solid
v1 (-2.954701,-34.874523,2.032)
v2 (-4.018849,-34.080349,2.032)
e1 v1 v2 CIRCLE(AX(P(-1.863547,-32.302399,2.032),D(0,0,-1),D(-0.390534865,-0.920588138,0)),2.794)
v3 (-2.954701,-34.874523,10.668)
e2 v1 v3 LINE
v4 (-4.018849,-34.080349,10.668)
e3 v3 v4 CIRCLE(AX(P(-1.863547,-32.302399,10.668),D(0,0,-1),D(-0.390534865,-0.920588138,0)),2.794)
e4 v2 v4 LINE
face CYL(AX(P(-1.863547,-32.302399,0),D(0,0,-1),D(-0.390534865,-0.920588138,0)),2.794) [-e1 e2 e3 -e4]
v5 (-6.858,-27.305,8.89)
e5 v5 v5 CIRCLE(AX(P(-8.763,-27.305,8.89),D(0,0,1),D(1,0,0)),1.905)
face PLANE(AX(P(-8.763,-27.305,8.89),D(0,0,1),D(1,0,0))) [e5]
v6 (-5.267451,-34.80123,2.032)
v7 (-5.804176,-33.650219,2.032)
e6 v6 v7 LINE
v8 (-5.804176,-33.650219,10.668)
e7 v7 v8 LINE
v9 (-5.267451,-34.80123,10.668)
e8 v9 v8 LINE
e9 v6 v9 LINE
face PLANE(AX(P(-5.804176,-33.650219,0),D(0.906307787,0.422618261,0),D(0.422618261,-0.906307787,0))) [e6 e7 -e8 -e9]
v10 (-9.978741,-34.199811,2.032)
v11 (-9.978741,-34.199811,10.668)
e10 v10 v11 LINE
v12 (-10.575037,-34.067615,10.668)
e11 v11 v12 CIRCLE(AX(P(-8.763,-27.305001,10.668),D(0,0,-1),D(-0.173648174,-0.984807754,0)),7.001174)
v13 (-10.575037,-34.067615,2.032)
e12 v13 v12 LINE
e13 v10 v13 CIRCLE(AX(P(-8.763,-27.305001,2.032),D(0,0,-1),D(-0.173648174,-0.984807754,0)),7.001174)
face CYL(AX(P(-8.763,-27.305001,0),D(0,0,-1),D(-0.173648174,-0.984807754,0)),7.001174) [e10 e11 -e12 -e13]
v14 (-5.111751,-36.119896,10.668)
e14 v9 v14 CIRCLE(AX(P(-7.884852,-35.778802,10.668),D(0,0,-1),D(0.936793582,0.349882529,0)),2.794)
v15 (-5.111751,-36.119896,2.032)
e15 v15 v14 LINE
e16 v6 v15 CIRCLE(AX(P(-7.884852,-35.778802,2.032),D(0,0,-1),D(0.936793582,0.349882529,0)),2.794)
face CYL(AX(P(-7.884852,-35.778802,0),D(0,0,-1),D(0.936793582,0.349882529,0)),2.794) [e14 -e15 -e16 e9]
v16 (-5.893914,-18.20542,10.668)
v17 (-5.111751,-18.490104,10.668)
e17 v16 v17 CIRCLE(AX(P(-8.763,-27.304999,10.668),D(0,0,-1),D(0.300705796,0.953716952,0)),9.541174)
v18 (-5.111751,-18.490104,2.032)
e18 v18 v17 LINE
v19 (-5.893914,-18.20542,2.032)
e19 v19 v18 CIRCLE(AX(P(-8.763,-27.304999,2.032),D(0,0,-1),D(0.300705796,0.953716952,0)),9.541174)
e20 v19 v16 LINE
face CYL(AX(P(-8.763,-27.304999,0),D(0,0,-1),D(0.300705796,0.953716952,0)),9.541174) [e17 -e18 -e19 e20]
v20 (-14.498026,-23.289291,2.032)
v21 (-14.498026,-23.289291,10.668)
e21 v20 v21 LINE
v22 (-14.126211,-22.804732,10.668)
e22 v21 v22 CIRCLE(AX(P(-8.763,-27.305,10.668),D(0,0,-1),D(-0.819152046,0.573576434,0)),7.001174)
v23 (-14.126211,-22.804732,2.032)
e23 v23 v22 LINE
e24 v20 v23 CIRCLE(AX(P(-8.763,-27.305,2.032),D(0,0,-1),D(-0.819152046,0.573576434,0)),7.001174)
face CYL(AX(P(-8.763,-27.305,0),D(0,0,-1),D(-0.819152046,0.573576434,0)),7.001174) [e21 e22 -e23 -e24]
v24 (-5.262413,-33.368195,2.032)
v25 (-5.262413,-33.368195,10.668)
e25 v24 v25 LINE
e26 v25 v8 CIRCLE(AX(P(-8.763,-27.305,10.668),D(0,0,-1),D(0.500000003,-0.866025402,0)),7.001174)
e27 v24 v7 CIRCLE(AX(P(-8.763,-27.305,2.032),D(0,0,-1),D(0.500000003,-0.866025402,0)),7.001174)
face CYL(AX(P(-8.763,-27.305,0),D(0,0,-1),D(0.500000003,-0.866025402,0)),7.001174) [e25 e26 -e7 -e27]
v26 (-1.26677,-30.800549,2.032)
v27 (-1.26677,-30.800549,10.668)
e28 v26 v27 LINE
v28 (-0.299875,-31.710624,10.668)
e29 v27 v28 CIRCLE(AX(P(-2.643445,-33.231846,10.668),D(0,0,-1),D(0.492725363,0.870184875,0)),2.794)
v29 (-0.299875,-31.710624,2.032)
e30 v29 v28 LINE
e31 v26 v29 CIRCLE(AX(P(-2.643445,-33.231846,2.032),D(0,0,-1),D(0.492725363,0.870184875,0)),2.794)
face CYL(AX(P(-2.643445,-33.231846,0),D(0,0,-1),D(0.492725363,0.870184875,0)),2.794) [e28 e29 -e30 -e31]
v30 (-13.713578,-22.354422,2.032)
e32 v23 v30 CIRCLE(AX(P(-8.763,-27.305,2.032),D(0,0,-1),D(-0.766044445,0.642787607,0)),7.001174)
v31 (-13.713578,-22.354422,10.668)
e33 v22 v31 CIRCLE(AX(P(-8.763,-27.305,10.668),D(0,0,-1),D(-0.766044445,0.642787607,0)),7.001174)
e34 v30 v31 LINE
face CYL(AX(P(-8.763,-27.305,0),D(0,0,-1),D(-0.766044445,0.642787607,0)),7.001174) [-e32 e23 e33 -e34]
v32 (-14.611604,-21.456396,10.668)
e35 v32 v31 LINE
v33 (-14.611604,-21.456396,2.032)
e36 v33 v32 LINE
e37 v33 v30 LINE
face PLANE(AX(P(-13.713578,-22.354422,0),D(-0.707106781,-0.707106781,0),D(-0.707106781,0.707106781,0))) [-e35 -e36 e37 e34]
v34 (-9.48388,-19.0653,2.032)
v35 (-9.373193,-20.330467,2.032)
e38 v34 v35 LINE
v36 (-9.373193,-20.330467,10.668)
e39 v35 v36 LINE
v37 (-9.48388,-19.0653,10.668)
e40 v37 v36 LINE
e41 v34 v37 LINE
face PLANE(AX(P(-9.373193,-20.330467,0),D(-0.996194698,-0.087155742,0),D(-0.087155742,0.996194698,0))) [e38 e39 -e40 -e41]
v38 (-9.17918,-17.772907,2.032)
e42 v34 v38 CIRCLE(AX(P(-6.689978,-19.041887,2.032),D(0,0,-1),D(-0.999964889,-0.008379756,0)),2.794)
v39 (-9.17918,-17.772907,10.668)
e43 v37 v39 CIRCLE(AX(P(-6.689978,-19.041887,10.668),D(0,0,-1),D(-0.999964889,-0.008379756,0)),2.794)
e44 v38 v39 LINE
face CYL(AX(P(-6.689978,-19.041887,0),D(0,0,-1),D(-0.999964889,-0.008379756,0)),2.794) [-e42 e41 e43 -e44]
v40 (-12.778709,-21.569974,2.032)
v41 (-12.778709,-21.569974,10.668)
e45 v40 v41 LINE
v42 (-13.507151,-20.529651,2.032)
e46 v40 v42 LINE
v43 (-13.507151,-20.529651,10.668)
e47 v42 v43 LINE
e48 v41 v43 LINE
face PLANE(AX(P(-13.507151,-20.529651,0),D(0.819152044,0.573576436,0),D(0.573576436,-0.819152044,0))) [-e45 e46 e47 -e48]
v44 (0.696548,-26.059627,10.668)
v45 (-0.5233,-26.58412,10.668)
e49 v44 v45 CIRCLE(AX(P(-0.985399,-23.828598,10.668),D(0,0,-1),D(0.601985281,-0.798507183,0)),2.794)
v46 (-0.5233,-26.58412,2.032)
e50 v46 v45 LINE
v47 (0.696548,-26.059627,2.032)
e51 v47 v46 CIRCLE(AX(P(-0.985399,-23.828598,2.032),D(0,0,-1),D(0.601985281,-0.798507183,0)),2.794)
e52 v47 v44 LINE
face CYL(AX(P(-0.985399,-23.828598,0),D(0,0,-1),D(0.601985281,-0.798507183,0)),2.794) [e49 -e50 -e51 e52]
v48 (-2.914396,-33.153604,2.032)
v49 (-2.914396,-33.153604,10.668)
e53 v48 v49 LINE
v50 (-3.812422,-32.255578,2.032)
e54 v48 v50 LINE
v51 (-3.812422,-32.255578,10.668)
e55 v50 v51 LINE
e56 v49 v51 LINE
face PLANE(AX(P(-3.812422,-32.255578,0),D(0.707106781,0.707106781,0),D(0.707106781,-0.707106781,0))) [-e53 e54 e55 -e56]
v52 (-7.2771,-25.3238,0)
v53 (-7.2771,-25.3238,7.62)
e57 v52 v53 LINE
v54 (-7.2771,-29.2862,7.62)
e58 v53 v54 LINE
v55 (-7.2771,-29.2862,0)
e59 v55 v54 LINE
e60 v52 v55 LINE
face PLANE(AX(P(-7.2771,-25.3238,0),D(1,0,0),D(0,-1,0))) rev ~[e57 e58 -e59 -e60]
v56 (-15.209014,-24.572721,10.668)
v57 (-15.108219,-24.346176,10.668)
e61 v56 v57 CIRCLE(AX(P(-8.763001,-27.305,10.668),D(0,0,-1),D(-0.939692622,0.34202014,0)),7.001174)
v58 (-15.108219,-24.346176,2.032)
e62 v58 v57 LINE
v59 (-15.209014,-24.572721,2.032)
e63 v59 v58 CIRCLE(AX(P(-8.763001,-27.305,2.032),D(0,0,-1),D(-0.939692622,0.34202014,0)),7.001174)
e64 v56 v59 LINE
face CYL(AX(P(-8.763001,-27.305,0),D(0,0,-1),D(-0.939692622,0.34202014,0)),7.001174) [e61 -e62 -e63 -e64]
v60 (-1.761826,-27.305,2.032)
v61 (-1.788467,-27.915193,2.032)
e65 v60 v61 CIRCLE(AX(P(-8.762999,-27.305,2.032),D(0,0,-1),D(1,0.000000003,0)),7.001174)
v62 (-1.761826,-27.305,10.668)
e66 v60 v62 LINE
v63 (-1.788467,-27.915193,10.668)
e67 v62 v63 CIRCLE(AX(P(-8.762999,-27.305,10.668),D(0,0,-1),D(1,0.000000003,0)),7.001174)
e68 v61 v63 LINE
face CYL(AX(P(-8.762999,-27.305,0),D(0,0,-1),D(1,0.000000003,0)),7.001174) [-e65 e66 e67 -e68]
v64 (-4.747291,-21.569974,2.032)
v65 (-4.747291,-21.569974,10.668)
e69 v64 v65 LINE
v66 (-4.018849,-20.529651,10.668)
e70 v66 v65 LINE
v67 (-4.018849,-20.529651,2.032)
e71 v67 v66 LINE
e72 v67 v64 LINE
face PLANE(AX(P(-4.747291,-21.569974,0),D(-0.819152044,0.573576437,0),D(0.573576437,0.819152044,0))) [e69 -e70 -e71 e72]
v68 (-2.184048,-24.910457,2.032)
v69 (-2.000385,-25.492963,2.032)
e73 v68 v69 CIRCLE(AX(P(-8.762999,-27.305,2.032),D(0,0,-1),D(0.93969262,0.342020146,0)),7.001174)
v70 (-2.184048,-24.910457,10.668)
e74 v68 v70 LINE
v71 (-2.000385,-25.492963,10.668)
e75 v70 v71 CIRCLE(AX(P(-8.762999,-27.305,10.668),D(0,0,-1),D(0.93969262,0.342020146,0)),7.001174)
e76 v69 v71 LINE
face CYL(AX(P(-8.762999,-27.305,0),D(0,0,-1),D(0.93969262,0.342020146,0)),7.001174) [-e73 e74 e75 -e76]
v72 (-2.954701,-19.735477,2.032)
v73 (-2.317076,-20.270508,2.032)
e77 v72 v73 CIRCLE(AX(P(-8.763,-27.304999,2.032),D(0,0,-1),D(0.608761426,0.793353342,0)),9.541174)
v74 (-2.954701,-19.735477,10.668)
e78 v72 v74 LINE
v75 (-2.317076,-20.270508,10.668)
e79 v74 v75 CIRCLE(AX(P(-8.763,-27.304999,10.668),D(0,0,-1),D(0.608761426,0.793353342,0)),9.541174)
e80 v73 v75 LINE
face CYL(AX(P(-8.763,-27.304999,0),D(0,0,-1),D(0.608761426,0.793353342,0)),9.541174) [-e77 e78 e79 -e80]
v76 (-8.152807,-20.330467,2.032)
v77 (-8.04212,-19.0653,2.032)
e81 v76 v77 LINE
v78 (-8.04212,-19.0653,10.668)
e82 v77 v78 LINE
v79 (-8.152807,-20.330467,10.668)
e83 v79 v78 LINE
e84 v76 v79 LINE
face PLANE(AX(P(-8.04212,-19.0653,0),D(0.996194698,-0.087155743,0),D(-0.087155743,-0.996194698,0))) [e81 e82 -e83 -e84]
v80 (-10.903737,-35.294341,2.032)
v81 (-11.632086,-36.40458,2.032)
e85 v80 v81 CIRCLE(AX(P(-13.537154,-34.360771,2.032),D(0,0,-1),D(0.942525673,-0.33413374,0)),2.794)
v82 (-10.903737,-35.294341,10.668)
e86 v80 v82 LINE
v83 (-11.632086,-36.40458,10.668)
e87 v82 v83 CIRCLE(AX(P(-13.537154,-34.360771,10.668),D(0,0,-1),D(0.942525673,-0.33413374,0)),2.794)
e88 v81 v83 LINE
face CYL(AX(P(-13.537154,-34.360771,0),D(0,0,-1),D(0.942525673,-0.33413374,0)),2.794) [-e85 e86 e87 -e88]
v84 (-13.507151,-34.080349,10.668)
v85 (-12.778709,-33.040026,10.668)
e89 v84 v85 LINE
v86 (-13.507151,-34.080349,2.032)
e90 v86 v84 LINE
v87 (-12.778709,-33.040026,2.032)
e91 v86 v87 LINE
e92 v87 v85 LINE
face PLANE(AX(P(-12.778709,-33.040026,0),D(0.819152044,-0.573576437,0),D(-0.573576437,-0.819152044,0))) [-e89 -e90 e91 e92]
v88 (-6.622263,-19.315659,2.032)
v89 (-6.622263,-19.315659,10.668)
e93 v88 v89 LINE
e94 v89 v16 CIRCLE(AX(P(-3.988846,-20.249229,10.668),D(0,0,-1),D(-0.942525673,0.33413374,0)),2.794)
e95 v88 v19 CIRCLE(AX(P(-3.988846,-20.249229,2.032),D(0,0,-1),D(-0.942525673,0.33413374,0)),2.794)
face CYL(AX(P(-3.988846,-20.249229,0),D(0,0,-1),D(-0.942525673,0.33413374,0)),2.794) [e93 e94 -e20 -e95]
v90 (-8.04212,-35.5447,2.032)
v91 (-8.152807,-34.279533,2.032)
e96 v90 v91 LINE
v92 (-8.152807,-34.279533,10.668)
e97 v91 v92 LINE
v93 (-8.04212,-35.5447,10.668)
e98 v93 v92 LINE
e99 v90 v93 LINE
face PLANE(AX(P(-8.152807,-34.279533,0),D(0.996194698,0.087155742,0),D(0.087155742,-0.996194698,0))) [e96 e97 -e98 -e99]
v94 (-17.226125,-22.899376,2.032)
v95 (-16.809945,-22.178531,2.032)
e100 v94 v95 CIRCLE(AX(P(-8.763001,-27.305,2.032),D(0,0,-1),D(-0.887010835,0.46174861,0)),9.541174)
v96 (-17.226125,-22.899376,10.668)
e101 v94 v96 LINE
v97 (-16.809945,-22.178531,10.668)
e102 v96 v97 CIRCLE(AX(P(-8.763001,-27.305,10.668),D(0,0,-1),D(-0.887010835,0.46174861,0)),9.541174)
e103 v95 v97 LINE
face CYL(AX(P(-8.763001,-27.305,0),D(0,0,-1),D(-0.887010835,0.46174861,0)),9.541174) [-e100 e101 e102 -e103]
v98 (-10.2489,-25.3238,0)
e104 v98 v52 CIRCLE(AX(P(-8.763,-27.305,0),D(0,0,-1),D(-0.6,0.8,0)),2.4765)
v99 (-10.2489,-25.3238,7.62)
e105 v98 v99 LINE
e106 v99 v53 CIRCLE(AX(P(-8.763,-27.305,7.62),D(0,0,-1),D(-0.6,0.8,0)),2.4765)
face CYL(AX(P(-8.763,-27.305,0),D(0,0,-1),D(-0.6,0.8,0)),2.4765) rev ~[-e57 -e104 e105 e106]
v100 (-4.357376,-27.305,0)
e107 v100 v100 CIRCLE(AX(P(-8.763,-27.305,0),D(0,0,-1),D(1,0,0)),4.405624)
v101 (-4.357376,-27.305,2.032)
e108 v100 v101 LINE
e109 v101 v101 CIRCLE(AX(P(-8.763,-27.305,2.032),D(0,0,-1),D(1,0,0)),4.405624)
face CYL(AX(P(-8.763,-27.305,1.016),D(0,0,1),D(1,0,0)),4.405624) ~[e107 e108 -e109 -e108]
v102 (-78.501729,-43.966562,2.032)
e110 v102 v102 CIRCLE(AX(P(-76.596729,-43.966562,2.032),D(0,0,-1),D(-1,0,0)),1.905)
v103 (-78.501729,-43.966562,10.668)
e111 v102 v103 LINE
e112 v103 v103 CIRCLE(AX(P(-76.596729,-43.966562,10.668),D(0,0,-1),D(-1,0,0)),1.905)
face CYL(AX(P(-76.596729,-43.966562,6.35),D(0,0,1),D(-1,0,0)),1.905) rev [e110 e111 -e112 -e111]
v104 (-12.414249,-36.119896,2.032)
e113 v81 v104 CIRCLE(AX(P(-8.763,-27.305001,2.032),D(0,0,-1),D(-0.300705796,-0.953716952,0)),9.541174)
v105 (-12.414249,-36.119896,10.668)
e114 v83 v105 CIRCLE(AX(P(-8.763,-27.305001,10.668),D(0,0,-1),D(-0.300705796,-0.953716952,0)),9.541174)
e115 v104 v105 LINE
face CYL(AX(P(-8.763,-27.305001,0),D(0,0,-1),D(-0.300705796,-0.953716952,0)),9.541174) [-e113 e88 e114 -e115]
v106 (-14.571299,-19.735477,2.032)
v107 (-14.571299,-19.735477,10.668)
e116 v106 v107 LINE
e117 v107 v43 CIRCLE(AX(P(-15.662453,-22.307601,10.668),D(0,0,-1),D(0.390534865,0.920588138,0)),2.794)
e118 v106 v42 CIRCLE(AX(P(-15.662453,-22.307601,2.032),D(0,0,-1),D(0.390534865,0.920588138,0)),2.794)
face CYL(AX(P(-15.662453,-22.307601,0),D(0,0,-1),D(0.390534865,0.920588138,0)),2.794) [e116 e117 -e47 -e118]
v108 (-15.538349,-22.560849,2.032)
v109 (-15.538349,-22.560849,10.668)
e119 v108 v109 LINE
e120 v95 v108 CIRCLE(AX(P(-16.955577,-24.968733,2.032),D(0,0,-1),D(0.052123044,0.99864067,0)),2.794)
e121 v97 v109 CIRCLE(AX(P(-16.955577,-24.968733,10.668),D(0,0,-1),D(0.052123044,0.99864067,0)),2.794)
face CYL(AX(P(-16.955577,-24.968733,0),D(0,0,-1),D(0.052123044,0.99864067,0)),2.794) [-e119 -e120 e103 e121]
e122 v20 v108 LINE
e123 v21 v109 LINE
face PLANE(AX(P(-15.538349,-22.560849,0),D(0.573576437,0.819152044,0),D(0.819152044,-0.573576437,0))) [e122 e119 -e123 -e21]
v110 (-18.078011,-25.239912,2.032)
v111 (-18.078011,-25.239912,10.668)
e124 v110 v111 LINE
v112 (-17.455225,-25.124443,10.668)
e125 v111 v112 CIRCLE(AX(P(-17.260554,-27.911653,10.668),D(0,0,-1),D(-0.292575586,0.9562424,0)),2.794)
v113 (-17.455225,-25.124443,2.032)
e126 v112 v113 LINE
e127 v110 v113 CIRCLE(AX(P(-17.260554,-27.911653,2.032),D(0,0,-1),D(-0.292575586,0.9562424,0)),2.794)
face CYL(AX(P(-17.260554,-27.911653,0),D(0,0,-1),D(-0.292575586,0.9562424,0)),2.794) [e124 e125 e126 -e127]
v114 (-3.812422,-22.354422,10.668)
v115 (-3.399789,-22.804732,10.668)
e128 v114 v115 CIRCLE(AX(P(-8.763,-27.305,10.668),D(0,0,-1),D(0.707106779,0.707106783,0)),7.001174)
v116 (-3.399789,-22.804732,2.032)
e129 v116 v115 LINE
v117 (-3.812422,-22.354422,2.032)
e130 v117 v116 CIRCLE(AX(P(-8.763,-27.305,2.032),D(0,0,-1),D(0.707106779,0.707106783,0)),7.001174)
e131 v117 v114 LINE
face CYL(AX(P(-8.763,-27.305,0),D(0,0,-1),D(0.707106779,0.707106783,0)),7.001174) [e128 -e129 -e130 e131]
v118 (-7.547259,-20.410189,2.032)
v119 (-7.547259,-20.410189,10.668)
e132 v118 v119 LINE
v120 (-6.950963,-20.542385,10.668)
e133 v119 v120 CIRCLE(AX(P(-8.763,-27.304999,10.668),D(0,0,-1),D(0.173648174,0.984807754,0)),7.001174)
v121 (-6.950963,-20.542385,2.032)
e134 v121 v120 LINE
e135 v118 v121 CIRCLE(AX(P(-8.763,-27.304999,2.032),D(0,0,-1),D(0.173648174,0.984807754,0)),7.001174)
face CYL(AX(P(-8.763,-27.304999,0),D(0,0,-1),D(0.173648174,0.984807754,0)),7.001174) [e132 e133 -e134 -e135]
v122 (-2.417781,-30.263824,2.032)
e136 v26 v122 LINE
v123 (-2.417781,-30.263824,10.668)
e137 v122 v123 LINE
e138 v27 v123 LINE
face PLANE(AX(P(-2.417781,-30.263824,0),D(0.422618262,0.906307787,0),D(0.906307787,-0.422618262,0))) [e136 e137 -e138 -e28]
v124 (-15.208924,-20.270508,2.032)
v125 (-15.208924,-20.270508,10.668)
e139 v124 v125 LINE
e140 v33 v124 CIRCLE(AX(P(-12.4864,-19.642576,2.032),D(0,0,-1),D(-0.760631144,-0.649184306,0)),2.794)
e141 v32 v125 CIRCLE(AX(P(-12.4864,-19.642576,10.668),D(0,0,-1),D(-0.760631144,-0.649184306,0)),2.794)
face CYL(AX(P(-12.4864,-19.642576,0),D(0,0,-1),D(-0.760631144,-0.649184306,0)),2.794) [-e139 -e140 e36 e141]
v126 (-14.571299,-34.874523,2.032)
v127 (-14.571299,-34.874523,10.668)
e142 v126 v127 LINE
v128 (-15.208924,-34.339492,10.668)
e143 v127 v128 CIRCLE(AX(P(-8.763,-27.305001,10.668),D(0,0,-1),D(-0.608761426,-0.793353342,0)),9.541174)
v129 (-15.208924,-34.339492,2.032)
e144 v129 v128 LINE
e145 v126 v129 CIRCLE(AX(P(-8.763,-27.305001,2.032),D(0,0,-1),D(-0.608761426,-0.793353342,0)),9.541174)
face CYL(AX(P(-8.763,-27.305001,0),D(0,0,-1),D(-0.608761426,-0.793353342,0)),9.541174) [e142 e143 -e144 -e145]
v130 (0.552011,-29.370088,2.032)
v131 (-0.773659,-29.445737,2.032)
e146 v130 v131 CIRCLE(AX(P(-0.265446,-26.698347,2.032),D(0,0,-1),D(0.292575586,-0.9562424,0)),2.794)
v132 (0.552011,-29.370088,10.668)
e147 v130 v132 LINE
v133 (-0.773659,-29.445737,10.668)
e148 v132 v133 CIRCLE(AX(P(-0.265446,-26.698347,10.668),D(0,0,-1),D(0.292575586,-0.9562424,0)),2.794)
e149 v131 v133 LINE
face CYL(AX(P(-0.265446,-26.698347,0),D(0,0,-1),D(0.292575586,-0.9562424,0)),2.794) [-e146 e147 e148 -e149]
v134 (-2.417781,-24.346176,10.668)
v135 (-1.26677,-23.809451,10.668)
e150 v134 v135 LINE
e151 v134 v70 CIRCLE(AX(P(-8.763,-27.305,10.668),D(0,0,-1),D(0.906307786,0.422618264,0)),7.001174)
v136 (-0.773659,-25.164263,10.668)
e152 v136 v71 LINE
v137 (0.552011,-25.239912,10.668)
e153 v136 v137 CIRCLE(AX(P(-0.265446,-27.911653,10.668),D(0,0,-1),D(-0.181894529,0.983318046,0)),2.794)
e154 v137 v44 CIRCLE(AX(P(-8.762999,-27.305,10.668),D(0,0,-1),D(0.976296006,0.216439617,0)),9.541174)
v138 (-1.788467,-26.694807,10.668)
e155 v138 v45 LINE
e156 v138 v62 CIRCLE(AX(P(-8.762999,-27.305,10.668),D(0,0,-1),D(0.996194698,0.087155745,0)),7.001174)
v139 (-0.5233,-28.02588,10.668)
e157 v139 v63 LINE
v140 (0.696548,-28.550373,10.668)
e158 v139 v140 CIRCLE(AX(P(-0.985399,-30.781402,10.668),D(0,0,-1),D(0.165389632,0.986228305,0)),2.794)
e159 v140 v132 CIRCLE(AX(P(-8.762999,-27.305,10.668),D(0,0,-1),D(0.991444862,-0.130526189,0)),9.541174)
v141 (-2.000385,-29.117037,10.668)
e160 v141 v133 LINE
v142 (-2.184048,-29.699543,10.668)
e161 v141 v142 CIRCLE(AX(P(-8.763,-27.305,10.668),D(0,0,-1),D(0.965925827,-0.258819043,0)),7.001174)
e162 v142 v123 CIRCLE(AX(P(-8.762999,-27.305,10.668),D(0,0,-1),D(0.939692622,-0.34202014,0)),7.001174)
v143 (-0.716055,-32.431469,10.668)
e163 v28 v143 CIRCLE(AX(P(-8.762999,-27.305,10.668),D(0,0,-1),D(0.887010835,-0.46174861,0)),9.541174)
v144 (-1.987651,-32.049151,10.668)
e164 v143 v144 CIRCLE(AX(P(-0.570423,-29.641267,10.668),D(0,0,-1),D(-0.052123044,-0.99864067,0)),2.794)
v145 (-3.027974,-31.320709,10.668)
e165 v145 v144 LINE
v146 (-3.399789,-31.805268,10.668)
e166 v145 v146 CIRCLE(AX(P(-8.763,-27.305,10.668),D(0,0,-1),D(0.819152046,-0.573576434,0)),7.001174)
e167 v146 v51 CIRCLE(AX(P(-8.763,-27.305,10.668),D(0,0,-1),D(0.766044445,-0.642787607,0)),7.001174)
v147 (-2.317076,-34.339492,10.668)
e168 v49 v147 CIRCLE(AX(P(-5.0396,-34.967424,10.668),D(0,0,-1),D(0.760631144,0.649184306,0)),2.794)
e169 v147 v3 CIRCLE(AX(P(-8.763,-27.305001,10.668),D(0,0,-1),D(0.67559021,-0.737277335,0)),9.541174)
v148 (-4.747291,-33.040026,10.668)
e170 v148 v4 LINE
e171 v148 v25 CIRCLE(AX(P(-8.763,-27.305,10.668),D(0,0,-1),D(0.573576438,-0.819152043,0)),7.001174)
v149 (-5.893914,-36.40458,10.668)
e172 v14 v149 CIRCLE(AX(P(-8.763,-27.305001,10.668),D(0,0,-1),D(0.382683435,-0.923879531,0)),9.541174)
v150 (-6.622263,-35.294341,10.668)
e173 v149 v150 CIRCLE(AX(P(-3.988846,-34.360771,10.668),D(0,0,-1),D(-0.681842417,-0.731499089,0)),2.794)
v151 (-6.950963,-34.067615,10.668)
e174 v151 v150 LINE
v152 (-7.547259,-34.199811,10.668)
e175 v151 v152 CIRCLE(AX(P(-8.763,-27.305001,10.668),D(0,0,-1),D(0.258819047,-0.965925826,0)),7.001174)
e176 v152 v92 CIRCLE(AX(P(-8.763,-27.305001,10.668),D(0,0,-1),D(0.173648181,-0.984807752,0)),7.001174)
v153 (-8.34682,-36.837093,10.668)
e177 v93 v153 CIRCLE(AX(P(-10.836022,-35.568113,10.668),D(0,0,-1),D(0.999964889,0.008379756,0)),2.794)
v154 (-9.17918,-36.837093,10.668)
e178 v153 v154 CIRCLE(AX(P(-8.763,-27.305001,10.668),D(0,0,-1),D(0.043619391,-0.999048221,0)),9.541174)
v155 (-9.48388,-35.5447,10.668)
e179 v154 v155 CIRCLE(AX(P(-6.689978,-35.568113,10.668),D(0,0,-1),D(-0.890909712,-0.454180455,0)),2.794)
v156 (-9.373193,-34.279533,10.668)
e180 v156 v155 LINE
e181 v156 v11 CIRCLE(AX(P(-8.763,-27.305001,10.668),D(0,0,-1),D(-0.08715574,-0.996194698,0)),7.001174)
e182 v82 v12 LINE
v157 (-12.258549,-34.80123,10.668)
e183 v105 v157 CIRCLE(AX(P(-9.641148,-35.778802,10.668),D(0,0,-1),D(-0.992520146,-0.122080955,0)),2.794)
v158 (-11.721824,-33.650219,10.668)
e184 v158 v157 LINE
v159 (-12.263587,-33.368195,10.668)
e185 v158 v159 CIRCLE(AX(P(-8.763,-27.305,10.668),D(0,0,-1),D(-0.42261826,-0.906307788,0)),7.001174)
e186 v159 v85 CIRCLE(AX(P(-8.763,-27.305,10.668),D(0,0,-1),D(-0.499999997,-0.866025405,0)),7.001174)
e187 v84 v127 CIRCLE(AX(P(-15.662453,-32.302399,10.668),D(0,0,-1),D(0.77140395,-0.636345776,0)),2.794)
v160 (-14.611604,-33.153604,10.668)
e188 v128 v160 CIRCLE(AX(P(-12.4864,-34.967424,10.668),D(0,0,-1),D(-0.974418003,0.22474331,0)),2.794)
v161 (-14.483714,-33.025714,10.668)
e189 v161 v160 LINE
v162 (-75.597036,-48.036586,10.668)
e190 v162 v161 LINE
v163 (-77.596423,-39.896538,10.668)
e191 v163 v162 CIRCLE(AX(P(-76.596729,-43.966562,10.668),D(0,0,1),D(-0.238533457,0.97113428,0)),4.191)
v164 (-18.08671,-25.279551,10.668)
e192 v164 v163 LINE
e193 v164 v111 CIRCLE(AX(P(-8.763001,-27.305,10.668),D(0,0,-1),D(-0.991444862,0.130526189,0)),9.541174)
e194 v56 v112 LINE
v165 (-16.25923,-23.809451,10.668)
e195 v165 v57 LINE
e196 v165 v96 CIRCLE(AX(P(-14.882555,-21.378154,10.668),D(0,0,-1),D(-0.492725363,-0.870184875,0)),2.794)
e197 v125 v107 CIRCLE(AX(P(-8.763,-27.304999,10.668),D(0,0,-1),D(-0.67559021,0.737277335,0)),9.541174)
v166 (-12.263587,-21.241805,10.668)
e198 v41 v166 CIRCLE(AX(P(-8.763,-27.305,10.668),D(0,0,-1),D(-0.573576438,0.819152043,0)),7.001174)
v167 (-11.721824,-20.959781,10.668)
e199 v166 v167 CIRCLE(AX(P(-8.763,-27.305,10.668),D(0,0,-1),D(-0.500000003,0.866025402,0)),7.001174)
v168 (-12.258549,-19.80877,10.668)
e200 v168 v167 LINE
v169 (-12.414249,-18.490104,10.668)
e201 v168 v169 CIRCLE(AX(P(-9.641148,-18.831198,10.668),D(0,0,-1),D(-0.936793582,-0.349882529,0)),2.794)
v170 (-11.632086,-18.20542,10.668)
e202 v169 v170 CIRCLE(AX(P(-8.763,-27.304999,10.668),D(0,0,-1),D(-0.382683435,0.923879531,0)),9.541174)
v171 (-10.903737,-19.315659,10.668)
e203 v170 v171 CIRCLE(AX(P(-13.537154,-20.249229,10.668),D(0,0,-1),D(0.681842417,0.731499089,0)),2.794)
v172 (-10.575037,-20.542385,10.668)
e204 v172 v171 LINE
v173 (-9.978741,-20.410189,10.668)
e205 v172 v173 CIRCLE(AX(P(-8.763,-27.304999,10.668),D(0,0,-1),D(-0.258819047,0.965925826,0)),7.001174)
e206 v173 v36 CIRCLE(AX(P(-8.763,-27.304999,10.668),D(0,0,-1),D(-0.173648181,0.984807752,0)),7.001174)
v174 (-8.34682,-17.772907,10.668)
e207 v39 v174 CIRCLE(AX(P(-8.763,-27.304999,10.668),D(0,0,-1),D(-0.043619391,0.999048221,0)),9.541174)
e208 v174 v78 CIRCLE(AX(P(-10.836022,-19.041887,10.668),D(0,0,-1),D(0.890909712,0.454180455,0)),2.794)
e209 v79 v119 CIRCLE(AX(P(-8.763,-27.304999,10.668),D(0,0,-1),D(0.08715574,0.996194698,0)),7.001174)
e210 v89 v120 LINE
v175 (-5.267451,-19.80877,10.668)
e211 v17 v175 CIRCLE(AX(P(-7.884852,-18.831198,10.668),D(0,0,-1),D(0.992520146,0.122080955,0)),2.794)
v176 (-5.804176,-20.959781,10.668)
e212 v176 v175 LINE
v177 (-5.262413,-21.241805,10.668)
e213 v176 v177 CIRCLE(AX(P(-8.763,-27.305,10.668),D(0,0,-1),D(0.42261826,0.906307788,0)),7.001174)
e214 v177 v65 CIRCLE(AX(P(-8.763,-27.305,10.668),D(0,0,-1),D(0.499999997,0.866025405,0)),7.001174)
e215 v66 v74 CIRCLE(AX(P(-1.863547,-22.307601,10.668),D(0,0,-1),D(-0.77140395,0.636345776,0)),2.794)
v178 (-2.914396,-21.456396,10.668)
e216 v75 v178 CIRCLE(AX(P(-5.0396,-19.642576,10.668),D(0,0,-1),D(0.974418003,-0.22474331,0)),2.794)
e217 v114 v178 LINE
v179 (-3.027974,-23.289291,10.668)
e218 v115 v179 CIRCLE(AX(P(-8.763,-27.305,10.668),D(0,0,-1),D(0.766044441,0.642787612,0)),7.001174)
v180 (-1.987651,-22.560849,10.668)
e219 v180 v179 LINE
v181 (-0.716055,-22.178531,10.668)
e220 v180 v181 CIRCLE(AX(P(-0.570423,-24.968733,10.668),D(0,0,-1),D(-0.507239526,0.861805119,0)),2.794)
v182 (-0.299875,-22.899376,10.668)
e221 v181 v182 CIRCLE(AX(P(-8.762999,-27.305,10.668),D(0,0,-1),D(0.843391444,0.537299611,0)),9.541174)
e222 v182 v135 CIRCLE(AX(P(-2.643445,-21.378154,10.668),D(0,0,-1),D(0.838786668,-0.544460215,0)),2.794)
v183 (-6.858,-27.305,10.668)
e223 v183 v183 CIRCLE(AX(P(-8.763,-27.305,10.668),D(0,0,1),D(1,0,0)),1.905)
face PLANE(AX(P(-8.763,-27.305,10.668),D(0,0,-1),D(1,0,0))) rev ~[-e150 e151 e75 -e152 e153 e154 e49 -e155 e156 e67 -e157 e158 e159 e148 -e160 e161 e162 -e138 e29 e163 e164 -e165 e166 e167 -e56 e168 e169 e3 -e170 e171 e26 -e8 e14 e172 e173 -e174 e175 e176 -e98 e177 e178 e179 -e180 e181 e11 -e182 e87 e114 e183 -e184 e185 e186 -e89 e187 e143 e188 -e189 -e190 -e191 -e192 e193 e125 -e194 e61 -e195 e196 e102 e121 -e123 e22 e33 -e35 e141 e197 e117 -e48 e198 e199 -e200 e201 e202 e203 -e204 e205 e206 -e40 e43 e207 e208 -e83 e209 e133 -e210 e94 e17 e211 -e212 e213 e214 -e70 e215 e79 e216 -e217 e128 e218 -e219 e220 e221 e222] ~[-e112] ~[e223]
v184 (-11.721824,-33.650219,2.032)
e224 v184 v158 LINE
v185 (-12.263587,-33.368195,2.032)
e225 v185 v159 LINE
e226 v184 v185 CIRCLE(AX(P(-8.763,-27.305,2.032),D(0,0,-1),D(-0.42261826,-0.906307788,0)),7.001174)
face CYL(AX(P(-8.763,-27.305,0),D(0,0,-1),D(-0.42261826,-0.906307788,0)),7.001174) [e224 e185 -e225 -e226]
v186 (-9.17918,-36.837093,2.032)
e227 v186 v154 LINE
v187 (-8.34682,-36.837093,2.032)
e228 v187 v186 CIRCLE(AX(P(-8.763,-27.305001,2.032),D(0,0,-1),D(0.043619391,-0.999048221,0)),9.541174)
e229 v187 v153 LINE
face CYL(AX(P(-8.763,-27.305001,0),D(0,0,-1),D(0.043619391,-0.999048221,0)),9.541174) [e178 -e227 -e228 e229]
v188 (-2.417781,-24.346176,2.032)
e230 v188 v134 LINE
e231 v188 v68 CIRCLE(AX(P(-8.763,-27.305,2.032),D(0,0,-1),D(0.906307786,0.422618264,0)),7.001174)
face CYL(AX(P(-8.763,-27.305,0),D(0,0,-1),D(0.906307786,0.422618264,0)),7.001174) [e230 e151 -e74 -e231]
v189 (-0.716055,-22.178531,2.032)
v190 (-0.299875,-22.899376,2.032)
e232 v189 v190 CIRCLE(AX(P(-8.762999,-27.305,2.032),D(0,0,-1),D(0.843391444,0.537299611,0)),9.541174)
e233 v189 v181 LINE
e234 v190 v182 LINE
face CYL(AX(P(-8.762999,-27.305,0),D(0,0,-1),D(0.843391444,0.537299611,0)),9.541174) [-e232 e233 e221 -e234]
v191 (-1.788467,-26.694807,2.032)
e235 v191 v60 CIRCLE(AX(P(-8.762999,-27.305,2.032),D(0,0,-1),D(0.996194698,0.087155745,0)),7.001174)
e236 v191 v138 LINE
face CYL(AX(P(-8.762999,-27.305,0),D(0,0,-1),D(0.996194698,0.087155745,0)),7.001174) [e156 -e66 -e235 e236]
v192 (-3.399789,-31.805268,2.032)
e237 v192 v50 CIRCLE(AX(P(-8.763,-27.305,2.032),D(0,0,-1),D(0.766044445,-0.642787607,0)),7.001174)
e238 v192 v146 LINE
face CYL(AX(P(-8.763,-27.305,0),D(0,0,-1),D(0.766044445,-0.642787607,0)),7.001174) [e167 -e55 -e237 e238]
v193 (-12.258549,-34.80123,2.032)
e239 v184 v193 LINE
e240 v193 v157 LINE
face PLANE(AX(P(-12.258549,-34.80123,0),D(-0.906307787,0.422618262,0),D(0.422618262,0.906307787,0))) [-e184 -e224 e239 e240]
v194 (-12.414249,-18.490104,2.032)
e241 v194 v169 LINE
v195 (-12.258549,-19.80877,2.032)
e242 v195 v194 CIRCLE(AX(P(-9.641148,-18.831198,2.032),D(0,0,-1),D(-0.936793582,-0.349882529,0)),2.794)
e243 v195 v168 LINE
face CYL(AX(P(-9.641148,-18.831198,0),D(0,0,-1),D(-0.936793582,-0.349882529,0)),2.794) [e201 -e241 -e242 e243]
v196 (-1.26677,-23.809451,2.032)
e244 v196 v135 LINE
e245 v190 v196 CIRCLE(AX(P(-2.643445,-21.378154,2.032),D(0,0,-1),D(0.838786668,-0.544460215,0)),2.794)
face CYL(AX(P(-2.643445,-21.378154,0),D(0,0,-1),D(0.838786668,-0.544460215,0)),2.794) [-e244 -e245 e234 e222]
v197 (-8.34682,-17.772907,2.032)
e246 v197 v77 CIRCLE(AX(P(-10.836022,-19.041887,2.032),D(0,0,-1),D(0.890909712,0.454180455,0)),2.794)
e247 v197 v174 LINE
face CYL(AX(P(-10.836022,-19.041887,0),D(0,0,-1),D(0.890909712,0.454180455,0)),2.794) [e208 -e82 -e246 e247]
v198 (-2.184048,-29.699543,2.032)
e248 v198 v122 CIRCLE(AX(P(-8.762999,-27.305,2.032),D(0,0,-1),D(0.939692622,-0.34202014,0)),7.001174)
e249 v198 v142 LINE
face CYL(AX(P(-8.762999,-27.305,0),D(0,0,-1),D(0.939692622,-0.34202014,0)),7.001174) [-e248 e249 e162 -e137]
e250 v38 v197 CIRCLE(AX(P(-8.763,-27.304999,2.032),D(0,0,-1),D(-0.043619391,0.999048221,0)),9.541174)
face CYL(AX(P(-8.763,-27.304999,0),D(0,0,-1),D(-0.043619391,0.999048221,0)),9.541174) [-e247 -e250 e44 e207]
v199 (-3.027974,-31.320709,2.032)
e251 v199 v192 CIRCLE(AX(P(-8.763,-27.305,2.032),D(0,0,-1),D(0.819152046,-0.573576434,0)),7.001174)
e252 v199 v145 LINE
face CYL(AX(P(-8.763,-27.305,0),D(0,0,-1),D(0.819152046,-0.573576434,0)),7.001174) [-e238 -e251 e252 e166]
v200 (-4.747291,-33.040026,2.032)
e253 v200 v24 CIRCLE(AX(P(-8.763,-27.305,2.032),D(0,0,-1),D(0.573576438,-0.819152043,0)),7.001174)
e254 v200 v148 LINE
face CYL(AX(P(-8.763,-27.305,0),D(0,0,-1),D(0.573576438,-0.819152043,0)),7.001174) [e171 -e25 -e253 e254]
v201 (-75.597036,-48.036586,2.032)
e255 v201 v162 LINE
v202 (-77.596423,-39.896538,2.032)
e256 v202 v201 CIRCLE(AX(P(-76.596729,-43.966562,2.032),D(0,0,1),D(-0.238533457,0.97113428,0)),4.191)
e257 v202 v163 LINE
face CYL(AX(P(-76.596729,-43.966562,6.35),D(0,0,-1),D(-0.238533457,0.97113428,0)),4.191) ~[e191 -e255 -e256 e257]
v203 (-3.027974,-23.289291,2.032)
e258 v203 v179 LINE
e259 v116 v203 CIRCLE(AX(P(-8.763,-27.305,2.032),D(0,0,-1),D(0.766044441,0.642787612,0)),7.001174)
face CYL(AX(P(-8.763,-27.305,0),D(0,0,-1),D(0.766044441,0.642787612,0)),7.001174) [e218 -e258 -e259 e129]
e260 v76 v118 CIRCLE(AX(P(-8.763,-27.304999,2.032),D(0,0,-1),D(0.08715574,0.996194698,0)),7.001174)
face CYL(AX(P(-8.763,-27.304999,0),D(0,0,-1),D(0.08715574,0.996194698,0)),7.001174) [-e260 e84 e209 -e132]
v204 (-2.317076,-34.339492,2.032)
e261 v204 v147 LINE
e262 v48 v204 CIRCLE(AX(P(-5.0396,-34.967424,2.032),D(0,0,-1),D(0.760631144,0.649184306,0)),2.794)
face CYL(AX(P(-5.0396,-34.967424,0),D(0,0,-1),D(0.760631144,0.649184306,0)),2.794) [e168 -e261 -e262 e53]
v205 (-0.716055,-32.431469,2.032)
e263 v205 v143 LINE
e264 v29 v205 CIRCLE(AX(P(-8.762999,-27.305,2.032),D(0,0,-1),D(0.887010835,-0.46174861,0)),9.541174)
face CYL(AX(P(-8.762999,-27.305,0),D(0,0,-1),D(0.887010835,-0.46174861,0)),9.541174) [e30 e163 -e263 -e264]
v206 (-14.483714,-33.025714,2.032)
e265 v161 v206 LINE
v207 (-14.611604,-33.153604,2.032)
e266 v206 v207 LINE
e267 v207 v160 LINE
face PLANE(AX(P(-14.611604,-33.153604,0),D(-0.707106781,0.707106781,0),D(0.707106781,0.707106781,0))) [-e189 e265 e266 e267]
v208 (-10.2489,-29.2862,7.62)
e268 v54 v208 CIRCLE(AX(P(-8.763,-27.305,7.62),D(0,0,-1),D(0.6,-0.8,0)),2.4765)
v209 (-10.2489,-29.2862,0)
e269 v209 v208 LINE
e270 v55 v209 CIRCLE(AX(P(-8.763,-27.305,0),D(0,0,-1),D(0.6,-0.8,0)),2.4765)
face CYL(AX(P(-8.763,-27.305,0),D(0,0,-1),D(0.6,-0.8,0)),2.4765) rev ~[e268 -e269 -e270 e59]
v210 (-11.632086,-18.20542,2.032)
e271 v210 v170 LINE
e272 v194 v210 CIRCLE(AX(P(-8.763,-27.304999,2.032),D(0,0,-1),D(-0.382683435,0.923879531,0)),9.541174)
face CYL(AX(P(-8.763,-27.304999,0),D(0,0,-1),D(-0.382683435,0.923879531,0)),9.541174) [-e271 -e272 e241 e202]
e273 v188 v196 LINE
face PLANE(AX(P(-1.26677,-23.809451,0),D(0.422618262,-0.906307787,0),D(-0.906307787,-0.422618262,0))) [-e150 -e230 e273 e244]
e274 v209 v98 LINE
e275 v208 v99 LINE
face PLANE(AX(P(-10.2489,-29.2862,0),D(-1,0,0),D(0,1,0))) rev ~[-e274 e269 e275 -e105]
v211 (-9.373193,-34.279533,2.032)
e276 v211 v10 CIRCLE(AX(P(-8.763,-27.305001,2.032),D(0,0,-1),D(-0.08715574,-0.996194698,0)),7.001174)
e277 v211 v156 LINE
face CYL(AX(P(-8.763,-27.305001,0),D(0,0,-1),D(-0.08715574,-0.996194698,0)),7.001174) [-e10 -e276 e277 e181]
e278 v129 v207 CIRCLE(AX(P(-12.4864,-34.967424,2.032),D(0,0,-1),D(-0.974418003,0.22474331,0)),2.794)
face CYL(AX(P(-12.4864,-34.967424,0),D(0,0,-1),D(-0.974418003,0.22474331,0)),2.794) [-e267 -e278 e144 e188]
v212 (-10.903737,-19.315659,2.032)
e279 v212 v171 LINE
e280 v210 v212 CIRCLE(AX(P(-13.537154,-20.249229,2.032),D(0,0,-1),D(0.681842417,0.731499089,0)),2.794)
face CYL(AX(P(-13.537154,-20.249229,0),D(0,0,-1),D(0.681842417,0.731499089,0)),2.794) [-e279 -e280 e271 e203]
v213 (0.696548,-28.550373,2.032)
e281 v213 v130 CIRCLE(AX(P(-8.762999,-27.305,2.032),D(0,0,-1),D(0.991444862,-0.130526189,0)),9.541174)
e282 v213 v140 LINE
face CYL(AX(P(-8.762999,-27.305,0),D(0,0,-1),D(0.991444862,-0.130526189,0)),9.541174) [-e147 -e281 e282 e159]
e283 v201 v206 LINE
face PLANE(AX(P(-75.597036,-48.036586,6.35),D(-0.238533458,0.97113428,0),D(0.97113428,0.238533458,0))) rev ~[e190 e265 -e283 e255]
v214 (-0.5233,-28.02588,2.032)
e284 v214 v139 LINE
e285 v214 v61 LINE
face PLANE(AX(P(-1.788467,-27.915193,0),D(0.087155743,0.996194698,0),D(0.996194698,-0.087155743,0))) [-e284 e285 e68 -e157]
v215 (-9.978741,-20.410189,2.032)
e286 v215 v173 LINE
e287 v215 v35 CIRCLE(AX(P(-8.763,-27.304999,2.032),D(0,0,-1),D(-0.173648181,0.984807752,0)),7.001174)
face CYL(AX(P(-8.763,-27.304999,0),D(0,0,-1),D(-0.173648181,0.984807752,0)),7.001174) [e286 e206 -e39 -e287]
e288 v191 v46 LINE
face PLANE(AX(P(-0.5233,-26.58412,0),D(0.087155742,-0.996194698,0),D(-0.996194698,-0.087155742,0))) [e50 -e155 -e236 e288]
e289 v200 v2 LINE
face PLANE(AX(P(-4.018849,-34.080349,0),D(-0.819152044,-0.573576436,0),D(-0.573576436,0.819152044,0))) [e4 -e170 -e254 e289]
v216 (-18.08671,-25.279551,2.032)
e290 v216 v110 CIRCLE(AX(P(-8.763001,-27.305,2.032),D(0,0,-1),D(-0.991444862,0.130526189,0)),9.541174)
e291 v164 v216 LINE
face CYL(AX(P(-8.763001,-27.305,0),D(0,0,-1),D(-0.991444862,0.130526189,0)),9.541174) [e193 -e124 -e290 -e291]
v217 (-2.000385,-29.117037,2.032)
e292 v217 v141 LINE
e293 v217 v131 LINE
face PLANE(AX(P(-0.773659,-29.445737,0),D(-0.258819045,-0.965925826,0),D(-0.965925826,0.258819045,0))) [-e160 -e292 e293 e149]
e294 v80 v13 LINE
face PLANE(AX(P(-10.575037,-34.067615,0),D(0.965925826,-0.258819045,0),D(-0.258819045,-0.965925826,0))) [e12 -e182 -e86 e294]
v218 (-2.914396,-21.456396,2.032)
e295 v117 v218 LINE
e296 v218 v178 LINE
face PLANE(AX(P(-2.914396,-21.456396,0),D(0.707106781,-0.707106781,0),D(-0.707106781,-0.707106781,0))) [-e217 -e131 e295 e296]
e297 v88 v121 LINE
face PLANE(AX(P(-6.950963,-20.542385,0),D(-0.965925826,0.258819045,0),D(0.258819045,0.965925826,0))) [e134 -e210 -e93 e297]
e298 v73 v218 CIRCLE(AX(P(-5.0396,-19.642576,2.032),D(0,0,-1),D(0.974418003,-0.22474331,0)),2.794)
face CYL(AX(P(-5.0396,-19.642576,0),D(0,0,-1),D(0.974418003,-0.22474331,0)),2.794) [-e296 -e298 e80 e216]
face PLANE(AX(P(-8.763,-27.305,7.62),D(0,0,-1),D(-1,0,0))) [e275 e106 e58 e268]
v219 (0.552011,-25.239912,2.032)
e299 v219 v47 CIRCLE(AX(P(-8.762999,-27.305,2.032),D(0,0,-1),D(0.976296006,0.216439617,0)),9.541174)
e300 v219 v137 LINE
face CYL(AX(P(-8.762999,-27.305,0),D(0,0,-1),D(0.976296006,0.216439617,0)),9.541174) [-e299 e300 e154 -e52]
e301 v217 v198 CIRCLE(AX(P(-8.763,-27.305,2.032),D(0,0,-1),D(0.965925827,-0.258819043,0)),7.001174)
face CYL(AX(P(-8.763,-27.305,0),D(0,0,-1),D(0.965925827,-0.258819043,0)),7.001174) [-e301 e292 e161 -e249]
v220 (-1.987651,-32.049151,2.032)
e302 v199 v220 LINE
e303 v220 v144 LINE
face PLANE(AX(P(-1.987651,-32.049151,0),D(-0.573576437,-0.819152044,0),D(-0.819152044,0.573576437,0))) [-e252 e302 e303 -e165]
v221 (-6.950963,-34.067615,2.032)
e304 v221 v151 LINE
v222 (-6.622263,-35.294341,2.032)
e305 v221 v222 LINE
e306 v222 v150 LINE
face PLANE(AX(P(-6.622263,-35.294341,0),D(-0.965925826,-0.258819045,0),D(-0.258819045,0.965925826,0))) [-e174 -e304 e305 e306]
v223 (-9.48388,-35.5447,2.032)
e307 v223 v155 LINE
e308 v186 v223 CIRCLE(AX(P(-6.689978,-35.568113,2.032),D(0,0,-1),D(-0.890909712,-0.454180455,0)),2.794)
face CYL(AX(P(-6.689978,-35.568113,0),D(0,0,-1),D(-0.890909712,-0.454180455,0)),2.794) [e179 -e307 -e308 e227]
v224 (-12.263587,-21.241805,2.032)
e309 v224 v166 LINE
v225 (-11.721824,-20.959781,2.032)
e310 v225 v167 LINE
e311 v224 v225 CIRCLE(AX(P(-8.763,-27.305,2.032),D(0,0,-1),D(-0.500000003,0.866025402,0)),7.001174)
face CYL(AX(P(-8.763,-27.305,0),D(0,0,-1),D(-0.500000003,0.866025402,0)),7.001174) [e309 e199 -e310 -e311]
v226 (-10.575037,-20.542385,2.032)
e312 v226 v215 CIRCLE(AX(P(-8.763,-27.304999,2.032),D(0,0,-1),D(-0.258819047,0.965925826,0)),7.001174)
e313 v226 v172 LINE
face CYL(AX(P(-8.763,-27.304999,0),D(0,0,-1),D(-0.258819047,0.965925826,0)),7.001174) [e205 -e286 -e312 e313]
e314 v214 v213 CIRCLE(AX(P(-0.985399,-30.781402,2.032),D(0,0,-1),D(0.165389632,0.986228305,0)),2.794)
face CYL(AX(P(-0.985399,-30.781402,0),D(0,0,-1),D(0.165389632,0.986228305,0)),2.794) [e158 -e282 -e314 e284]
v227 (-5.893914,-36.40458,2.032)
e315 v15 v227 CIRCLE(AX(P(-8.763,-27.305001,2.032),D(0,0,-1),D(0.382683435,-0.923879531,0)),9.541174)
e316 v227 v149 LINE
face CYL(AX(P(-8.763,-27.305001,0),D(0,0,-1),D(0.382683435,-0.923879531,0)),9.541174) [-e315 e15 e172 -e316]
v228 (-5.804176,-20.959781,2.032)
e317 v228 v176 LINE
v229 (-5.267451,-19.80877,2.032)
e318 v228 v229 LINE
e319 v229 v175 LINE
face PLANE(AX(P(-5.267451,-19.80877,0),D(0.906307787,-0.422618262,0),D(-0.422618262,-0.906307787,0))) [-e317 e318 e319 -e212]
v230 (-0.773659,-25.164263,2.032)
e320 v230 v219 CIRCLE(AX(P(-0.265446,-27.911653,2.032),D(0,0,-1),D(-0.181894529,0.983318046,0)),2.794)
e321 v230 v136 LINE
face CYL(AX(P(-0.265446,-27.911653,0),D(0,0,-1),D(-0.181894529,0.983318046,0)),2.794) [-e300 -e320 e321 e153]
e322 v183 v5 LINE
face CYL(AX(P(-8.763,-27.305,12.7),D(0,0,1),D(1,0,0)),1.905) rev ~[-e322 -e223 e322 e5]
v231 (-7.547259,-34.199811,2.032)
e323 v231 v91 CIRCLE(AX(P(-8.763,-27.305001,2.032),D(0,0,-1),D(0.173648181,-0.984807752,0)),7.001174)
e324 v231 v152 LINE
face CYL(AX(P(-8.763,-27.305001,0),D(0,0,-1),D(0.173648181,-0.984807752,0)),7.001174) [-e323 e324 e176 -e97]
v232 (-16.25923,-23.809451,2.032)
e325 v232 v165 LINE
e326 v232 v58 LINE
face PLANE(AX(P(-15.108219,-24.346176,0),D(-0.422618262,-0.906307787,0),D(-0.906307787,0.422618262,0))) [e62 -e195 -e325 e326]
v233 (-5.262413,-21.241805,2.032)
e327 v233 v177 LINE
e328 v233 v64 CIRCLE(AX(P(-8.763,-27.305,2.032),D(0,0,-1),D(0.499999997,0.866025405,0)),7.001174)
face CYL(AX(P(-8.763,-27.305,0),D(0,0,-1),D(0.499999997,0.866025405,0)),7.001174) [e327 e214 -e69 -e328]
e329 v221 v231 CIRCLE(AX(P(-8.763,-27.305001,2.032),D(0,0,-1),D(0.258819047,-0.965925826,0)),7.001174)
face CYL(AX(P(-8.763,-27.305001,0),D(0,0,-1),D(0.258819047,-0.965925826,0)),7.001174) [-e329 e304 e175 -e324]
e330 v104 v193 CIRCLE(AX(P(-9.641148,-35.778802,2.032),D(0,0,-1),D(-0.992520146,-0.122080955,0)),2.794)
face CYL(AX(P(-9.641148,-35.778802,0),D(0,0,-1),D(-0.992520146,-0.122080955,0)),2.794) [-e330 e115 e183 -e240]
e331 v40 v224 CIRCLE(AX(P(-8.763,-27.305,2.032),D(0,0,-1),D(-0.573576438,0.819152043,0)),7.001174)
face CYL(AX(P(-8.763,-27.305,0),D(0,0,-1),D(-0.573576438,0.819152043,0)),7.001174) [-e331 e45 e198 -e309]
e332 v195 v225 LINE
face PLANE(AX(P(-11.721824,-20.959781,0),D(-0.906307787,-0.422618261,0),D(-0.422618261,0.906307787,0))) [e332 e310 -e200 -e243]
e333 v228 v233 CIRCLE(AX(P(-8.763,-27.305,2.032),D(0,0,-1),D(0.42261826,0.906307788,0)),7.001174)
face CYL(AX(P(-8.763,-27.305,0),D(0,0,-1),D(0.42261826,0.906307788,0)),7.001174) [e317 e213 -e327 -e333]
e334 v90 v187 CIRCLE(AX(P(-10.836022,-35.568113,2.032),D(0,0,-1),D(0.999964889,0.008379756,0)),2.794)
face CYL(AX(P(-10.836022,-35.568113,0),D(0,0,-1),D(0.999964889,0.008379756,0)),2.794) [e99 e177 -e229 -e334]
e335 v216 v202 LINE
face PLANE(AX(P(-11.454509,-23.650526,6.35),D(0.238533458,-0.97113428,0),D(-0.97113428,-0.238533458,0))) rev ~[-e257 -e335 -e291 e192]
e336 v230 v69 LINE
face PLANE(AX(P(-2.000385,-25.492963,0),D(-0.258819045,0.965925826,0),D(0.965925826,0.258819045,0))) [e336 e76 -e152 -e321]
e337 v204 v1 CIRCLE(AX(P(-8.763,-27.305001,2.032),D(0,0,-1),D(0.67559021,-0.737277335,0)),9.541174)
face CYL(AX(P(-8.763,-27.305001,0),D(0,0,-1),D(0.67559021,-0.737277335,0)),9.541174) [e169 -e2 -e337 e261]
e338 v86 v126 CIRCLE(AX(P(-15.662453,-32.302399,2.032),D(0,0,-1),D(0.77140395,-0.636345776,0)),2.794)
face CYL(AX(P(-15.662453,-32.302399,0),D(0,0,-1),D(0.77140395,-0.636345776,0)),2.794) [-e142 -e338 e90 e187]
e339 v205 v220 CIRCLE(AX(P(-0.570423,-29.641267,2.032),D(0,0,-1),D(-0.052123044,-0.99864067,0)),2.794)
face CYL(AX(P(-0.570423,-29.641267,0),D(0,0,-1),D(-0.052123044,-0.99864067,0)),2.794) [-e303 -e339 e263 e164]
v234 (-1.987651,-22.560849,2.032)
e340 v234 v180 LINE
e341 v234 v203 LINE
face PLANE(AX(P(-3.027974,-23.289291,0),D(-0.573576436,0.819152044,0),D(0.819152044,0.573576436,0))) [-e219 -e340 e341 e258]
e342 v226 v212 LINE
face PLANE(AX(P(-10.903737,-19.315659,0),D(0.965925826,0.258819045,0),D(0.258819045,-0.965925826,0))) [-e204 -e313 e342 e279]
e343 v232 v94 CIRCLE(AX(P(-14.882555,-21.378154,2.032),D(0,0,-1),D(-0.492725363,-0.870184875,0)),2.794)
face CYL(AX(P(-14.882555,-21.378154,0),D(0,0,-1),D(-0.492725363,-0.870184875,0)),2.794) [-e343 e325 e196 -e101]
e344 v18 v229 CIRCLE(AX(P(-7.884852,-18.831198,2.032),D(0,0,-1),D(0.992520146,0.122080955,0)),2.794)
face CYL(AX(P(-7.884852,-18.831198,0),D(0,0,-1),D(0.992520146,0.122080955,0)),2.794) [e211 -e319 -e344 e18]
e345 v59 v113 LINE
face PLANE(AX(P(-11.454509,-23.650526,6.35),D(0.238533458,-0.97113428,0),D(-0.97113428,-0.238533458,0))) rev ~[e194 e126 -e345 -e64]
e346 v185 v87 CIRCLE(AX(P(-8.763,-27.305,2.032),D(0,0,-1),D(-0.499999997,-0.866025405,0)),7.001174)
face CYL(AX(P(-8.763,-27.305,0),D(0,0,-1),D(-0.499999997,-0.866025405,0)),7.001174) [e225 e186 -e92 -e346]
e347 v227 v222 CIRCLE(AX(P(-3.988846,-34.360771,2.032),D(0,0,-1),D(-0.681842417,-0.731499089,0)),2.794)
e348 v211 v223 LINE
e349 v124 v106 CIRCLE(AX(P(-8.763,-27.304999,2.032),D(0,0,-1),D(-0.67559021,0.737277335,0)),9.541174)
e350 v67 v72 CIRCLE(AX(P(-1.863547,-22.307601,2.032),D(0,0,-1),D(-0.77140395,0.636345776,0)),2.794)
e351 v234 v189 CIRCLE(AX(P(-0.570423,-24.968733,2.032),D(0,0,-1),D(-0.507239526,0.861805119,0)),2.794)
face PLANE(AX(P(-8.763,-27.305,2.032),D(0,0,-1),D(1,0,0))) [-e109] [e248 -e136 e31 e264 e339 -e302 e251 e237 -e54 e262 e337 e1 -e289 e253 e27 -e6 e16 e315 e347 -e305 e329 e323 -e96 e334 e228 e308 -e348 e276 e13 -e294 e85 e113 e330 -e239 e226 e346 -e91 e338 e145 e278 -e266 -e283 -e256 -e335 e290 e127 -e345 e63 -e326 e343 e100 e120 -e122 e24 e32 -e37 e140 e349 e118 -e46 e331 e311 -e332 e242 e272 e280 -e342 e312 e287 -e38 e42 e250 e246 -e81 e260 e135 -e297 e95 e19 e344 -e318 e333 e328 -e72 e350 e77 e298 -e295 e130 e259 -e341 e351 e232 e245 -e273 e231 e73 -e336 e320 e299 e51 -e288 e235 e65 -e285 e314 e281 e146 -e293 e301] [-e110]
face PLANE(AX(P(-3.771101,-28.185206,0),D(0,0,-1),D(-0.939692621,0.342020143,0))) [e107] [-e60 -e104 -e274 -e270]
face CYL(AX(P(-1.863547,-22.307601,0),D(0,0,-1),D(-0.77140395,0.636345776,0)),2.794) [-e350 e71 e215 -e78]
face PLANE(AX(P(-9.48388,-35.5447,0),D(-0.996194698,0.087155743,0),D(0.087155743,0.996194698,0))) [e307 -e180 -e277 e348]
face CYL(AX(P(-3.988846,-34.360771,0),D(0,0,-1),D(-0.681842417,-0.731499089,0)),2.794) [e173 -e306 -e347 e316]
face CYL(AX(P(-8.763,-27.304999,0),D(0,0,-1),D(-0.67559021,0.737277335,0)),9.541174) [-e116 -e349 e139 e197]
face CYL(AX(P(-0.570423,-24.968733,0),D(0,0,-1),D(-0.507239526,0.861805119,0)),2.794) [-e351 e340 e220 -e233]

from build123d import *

# Parameters (mm, degrees)
BOSS_EXTRUDE2_DEPTH = 12.7
CIRPATTERN1_COUNT   = 18
CUT_EXTRUDE1_DEPTH  = 7.62
SKETCH5_W           = 2.032
SKETCH5_H           = 5.817262372
SKETCH6_R           = 1.905
CUT_EXTRUDE2_DEPTH  = 3.81
SKETCH7_R           = 1.905
BOSS_EXTRUDE3_DEPTH = 4.318
SKETCH8_R           = 4.40562407
CUT_EXTRUDE3_DEPTH  = 2.032


with BuildPart() as part:
    # Sketch2 → Boss-Extrude2 (new body)
    with BuildSketch(Plane.XY):
        with BuildLine():
            Line((-8.763, -27.305), (-2.184048035, -24.910457312))
            ThreePointArc((-2.184048035, -24.910457312), (-2.085861254, -25.19970624), (-2.000384787, -25.492962715))
            Line((-2.000384787, -25.492962715), (-0.773658987, -25.164262528))
            ThreePointArc((-0.773658987, -25.164262528), (-0.106264973, -25.122191283), (0.552010516, -25.239911886))
            ThreePointArc((0.552010516, -25.239911886), (0.633222569, -25.648192444), (0.696548377, -26.05962683))
            ThreePointArc((0.696548377, -26.05962683), (0.118234575, -26.395391489), (-0.523299868, -26.584119648))
            Line((-0.523299868, -26.584119648), (-1.788467135, -26.694807441))
            ThreePointArc((-1.788467135, -26.694807441), (-1.768489119, -26.99961306), (-1.761825553, -27.305))
            Line((-1.761825553, -27.305), (-8.763, -27.305))
        make_face()
    boss_extrude2 = extrude(amount=BOSS_EXTRUDE2_DEPTH)

    # CirPattern1: Boss-Extrude2 ×18 about axis
    cirpattern1_axis = Axis((-8.763, -27.305, 0), (0, 0, 1))
    for i in range(1, CIRPATTERN1_COUNT):
        add(boss_extrude2.rotate(cirpattern1_axis, i * 360 / CIRPATTERN1_COUNT))

    # Sketch4 → Cut-Extrude1 (cut)
    with BuildSketch(Plane(origin=(0, 0, 0), x_dir=(-1, 0, 0), z_dir=(0, 0, -1))):
        with BuildLine():
            Line((10.2489, -29.2862), (10.2489, -25.3238))
            ThreePointArc((10.2489, -25.3238), (8.763, -24.8285), (7.2771, -25.3238))
            Line((7.2771, -25.3238), (7.2771, -29.2862))
            ThreePointArc((7.2771, -29.2862), (8.763, -29.7815), (10.2489, -29.2862))
        make_face()
    extrude(amount=-CUT_EXTRUDE1_DEPTH, mode=Mode.SUBTRACT)

    # Sketch5 → Cut-Revolve1 (revolve, cut)
    with BuildSketch(Plane.ZY.offset(8.763), mode=Mode.PRIVATE) as cut_revolve1_sk:
        with Locations((1.016, -34.619255256)):
            Rectangle(SKETCH5_W, SKETCH5_H)
        with Locations((11.684, -34.619255256)):
            Rectangle(SKETCH5_W, SKETCH5_H)
    revolve(cut_revolve1_sk.sketch.rotate(Axis((-8.763, -27.305, 7.62), (0, 0, -1)), 270), axis=Axis((-8.763, -27.305, 7.62), (0, 0, -1)), mode=Mode.SUBTRACT)

    # Sketch6 → Cut-Extrude2 (cut)
    with BuildSketch(Plane.XY.offset(12.7)):
        with Locations((-8.763, -27.305)):
            Circle(SKETCH6_R)
    extrude(amount=-CUT_EXTRUDE2_DEPTH, mode=Mode.SUBTRACT)

    # Sketch7 → Boss-Extrude3 (add, symmetric)
    with BuildSketch(Plane(origin=(0, 0, 6.35), x_dir=(-1, 0, 0), z_dir=(0, 0, -1))):
        with BuildLine():
            Line((11.454508553, -23.650525812), (77.596423172, -39.896538245))
            ThreePointArc((77.596423172, -39.896538245), (80.666753219, -44.966255733), (75.597035731, -48.036585779))
            Line((75.597035731, -48.036585779), (9.455121112, -31.790573347))
            ThreePointArc((9.455121112, -31.790573347), (13.203025928, -28.395574968), (11.454508553, -23.650525812))
        make_face()
        with Locations((76.596729452, -43.966562012)):
            Circle(SKETCH7_R, mode=Mode.SUBTRACT)
    extrude(amount=BOSS_EXTRUDE3_DEPTH, both=True)

    # Sketch8 → Cut-Extrude3 (cut)
    with BuildSketch(Plane.XY.offset(10.668)):
        with Locations((-8.763, -27.305)):
            Circle(SKETCH8_R)
    extrude(amount=CUT_EXTRUDE3_DEPTH, mode=Mode.SUBTRACT)


solid = part.part
